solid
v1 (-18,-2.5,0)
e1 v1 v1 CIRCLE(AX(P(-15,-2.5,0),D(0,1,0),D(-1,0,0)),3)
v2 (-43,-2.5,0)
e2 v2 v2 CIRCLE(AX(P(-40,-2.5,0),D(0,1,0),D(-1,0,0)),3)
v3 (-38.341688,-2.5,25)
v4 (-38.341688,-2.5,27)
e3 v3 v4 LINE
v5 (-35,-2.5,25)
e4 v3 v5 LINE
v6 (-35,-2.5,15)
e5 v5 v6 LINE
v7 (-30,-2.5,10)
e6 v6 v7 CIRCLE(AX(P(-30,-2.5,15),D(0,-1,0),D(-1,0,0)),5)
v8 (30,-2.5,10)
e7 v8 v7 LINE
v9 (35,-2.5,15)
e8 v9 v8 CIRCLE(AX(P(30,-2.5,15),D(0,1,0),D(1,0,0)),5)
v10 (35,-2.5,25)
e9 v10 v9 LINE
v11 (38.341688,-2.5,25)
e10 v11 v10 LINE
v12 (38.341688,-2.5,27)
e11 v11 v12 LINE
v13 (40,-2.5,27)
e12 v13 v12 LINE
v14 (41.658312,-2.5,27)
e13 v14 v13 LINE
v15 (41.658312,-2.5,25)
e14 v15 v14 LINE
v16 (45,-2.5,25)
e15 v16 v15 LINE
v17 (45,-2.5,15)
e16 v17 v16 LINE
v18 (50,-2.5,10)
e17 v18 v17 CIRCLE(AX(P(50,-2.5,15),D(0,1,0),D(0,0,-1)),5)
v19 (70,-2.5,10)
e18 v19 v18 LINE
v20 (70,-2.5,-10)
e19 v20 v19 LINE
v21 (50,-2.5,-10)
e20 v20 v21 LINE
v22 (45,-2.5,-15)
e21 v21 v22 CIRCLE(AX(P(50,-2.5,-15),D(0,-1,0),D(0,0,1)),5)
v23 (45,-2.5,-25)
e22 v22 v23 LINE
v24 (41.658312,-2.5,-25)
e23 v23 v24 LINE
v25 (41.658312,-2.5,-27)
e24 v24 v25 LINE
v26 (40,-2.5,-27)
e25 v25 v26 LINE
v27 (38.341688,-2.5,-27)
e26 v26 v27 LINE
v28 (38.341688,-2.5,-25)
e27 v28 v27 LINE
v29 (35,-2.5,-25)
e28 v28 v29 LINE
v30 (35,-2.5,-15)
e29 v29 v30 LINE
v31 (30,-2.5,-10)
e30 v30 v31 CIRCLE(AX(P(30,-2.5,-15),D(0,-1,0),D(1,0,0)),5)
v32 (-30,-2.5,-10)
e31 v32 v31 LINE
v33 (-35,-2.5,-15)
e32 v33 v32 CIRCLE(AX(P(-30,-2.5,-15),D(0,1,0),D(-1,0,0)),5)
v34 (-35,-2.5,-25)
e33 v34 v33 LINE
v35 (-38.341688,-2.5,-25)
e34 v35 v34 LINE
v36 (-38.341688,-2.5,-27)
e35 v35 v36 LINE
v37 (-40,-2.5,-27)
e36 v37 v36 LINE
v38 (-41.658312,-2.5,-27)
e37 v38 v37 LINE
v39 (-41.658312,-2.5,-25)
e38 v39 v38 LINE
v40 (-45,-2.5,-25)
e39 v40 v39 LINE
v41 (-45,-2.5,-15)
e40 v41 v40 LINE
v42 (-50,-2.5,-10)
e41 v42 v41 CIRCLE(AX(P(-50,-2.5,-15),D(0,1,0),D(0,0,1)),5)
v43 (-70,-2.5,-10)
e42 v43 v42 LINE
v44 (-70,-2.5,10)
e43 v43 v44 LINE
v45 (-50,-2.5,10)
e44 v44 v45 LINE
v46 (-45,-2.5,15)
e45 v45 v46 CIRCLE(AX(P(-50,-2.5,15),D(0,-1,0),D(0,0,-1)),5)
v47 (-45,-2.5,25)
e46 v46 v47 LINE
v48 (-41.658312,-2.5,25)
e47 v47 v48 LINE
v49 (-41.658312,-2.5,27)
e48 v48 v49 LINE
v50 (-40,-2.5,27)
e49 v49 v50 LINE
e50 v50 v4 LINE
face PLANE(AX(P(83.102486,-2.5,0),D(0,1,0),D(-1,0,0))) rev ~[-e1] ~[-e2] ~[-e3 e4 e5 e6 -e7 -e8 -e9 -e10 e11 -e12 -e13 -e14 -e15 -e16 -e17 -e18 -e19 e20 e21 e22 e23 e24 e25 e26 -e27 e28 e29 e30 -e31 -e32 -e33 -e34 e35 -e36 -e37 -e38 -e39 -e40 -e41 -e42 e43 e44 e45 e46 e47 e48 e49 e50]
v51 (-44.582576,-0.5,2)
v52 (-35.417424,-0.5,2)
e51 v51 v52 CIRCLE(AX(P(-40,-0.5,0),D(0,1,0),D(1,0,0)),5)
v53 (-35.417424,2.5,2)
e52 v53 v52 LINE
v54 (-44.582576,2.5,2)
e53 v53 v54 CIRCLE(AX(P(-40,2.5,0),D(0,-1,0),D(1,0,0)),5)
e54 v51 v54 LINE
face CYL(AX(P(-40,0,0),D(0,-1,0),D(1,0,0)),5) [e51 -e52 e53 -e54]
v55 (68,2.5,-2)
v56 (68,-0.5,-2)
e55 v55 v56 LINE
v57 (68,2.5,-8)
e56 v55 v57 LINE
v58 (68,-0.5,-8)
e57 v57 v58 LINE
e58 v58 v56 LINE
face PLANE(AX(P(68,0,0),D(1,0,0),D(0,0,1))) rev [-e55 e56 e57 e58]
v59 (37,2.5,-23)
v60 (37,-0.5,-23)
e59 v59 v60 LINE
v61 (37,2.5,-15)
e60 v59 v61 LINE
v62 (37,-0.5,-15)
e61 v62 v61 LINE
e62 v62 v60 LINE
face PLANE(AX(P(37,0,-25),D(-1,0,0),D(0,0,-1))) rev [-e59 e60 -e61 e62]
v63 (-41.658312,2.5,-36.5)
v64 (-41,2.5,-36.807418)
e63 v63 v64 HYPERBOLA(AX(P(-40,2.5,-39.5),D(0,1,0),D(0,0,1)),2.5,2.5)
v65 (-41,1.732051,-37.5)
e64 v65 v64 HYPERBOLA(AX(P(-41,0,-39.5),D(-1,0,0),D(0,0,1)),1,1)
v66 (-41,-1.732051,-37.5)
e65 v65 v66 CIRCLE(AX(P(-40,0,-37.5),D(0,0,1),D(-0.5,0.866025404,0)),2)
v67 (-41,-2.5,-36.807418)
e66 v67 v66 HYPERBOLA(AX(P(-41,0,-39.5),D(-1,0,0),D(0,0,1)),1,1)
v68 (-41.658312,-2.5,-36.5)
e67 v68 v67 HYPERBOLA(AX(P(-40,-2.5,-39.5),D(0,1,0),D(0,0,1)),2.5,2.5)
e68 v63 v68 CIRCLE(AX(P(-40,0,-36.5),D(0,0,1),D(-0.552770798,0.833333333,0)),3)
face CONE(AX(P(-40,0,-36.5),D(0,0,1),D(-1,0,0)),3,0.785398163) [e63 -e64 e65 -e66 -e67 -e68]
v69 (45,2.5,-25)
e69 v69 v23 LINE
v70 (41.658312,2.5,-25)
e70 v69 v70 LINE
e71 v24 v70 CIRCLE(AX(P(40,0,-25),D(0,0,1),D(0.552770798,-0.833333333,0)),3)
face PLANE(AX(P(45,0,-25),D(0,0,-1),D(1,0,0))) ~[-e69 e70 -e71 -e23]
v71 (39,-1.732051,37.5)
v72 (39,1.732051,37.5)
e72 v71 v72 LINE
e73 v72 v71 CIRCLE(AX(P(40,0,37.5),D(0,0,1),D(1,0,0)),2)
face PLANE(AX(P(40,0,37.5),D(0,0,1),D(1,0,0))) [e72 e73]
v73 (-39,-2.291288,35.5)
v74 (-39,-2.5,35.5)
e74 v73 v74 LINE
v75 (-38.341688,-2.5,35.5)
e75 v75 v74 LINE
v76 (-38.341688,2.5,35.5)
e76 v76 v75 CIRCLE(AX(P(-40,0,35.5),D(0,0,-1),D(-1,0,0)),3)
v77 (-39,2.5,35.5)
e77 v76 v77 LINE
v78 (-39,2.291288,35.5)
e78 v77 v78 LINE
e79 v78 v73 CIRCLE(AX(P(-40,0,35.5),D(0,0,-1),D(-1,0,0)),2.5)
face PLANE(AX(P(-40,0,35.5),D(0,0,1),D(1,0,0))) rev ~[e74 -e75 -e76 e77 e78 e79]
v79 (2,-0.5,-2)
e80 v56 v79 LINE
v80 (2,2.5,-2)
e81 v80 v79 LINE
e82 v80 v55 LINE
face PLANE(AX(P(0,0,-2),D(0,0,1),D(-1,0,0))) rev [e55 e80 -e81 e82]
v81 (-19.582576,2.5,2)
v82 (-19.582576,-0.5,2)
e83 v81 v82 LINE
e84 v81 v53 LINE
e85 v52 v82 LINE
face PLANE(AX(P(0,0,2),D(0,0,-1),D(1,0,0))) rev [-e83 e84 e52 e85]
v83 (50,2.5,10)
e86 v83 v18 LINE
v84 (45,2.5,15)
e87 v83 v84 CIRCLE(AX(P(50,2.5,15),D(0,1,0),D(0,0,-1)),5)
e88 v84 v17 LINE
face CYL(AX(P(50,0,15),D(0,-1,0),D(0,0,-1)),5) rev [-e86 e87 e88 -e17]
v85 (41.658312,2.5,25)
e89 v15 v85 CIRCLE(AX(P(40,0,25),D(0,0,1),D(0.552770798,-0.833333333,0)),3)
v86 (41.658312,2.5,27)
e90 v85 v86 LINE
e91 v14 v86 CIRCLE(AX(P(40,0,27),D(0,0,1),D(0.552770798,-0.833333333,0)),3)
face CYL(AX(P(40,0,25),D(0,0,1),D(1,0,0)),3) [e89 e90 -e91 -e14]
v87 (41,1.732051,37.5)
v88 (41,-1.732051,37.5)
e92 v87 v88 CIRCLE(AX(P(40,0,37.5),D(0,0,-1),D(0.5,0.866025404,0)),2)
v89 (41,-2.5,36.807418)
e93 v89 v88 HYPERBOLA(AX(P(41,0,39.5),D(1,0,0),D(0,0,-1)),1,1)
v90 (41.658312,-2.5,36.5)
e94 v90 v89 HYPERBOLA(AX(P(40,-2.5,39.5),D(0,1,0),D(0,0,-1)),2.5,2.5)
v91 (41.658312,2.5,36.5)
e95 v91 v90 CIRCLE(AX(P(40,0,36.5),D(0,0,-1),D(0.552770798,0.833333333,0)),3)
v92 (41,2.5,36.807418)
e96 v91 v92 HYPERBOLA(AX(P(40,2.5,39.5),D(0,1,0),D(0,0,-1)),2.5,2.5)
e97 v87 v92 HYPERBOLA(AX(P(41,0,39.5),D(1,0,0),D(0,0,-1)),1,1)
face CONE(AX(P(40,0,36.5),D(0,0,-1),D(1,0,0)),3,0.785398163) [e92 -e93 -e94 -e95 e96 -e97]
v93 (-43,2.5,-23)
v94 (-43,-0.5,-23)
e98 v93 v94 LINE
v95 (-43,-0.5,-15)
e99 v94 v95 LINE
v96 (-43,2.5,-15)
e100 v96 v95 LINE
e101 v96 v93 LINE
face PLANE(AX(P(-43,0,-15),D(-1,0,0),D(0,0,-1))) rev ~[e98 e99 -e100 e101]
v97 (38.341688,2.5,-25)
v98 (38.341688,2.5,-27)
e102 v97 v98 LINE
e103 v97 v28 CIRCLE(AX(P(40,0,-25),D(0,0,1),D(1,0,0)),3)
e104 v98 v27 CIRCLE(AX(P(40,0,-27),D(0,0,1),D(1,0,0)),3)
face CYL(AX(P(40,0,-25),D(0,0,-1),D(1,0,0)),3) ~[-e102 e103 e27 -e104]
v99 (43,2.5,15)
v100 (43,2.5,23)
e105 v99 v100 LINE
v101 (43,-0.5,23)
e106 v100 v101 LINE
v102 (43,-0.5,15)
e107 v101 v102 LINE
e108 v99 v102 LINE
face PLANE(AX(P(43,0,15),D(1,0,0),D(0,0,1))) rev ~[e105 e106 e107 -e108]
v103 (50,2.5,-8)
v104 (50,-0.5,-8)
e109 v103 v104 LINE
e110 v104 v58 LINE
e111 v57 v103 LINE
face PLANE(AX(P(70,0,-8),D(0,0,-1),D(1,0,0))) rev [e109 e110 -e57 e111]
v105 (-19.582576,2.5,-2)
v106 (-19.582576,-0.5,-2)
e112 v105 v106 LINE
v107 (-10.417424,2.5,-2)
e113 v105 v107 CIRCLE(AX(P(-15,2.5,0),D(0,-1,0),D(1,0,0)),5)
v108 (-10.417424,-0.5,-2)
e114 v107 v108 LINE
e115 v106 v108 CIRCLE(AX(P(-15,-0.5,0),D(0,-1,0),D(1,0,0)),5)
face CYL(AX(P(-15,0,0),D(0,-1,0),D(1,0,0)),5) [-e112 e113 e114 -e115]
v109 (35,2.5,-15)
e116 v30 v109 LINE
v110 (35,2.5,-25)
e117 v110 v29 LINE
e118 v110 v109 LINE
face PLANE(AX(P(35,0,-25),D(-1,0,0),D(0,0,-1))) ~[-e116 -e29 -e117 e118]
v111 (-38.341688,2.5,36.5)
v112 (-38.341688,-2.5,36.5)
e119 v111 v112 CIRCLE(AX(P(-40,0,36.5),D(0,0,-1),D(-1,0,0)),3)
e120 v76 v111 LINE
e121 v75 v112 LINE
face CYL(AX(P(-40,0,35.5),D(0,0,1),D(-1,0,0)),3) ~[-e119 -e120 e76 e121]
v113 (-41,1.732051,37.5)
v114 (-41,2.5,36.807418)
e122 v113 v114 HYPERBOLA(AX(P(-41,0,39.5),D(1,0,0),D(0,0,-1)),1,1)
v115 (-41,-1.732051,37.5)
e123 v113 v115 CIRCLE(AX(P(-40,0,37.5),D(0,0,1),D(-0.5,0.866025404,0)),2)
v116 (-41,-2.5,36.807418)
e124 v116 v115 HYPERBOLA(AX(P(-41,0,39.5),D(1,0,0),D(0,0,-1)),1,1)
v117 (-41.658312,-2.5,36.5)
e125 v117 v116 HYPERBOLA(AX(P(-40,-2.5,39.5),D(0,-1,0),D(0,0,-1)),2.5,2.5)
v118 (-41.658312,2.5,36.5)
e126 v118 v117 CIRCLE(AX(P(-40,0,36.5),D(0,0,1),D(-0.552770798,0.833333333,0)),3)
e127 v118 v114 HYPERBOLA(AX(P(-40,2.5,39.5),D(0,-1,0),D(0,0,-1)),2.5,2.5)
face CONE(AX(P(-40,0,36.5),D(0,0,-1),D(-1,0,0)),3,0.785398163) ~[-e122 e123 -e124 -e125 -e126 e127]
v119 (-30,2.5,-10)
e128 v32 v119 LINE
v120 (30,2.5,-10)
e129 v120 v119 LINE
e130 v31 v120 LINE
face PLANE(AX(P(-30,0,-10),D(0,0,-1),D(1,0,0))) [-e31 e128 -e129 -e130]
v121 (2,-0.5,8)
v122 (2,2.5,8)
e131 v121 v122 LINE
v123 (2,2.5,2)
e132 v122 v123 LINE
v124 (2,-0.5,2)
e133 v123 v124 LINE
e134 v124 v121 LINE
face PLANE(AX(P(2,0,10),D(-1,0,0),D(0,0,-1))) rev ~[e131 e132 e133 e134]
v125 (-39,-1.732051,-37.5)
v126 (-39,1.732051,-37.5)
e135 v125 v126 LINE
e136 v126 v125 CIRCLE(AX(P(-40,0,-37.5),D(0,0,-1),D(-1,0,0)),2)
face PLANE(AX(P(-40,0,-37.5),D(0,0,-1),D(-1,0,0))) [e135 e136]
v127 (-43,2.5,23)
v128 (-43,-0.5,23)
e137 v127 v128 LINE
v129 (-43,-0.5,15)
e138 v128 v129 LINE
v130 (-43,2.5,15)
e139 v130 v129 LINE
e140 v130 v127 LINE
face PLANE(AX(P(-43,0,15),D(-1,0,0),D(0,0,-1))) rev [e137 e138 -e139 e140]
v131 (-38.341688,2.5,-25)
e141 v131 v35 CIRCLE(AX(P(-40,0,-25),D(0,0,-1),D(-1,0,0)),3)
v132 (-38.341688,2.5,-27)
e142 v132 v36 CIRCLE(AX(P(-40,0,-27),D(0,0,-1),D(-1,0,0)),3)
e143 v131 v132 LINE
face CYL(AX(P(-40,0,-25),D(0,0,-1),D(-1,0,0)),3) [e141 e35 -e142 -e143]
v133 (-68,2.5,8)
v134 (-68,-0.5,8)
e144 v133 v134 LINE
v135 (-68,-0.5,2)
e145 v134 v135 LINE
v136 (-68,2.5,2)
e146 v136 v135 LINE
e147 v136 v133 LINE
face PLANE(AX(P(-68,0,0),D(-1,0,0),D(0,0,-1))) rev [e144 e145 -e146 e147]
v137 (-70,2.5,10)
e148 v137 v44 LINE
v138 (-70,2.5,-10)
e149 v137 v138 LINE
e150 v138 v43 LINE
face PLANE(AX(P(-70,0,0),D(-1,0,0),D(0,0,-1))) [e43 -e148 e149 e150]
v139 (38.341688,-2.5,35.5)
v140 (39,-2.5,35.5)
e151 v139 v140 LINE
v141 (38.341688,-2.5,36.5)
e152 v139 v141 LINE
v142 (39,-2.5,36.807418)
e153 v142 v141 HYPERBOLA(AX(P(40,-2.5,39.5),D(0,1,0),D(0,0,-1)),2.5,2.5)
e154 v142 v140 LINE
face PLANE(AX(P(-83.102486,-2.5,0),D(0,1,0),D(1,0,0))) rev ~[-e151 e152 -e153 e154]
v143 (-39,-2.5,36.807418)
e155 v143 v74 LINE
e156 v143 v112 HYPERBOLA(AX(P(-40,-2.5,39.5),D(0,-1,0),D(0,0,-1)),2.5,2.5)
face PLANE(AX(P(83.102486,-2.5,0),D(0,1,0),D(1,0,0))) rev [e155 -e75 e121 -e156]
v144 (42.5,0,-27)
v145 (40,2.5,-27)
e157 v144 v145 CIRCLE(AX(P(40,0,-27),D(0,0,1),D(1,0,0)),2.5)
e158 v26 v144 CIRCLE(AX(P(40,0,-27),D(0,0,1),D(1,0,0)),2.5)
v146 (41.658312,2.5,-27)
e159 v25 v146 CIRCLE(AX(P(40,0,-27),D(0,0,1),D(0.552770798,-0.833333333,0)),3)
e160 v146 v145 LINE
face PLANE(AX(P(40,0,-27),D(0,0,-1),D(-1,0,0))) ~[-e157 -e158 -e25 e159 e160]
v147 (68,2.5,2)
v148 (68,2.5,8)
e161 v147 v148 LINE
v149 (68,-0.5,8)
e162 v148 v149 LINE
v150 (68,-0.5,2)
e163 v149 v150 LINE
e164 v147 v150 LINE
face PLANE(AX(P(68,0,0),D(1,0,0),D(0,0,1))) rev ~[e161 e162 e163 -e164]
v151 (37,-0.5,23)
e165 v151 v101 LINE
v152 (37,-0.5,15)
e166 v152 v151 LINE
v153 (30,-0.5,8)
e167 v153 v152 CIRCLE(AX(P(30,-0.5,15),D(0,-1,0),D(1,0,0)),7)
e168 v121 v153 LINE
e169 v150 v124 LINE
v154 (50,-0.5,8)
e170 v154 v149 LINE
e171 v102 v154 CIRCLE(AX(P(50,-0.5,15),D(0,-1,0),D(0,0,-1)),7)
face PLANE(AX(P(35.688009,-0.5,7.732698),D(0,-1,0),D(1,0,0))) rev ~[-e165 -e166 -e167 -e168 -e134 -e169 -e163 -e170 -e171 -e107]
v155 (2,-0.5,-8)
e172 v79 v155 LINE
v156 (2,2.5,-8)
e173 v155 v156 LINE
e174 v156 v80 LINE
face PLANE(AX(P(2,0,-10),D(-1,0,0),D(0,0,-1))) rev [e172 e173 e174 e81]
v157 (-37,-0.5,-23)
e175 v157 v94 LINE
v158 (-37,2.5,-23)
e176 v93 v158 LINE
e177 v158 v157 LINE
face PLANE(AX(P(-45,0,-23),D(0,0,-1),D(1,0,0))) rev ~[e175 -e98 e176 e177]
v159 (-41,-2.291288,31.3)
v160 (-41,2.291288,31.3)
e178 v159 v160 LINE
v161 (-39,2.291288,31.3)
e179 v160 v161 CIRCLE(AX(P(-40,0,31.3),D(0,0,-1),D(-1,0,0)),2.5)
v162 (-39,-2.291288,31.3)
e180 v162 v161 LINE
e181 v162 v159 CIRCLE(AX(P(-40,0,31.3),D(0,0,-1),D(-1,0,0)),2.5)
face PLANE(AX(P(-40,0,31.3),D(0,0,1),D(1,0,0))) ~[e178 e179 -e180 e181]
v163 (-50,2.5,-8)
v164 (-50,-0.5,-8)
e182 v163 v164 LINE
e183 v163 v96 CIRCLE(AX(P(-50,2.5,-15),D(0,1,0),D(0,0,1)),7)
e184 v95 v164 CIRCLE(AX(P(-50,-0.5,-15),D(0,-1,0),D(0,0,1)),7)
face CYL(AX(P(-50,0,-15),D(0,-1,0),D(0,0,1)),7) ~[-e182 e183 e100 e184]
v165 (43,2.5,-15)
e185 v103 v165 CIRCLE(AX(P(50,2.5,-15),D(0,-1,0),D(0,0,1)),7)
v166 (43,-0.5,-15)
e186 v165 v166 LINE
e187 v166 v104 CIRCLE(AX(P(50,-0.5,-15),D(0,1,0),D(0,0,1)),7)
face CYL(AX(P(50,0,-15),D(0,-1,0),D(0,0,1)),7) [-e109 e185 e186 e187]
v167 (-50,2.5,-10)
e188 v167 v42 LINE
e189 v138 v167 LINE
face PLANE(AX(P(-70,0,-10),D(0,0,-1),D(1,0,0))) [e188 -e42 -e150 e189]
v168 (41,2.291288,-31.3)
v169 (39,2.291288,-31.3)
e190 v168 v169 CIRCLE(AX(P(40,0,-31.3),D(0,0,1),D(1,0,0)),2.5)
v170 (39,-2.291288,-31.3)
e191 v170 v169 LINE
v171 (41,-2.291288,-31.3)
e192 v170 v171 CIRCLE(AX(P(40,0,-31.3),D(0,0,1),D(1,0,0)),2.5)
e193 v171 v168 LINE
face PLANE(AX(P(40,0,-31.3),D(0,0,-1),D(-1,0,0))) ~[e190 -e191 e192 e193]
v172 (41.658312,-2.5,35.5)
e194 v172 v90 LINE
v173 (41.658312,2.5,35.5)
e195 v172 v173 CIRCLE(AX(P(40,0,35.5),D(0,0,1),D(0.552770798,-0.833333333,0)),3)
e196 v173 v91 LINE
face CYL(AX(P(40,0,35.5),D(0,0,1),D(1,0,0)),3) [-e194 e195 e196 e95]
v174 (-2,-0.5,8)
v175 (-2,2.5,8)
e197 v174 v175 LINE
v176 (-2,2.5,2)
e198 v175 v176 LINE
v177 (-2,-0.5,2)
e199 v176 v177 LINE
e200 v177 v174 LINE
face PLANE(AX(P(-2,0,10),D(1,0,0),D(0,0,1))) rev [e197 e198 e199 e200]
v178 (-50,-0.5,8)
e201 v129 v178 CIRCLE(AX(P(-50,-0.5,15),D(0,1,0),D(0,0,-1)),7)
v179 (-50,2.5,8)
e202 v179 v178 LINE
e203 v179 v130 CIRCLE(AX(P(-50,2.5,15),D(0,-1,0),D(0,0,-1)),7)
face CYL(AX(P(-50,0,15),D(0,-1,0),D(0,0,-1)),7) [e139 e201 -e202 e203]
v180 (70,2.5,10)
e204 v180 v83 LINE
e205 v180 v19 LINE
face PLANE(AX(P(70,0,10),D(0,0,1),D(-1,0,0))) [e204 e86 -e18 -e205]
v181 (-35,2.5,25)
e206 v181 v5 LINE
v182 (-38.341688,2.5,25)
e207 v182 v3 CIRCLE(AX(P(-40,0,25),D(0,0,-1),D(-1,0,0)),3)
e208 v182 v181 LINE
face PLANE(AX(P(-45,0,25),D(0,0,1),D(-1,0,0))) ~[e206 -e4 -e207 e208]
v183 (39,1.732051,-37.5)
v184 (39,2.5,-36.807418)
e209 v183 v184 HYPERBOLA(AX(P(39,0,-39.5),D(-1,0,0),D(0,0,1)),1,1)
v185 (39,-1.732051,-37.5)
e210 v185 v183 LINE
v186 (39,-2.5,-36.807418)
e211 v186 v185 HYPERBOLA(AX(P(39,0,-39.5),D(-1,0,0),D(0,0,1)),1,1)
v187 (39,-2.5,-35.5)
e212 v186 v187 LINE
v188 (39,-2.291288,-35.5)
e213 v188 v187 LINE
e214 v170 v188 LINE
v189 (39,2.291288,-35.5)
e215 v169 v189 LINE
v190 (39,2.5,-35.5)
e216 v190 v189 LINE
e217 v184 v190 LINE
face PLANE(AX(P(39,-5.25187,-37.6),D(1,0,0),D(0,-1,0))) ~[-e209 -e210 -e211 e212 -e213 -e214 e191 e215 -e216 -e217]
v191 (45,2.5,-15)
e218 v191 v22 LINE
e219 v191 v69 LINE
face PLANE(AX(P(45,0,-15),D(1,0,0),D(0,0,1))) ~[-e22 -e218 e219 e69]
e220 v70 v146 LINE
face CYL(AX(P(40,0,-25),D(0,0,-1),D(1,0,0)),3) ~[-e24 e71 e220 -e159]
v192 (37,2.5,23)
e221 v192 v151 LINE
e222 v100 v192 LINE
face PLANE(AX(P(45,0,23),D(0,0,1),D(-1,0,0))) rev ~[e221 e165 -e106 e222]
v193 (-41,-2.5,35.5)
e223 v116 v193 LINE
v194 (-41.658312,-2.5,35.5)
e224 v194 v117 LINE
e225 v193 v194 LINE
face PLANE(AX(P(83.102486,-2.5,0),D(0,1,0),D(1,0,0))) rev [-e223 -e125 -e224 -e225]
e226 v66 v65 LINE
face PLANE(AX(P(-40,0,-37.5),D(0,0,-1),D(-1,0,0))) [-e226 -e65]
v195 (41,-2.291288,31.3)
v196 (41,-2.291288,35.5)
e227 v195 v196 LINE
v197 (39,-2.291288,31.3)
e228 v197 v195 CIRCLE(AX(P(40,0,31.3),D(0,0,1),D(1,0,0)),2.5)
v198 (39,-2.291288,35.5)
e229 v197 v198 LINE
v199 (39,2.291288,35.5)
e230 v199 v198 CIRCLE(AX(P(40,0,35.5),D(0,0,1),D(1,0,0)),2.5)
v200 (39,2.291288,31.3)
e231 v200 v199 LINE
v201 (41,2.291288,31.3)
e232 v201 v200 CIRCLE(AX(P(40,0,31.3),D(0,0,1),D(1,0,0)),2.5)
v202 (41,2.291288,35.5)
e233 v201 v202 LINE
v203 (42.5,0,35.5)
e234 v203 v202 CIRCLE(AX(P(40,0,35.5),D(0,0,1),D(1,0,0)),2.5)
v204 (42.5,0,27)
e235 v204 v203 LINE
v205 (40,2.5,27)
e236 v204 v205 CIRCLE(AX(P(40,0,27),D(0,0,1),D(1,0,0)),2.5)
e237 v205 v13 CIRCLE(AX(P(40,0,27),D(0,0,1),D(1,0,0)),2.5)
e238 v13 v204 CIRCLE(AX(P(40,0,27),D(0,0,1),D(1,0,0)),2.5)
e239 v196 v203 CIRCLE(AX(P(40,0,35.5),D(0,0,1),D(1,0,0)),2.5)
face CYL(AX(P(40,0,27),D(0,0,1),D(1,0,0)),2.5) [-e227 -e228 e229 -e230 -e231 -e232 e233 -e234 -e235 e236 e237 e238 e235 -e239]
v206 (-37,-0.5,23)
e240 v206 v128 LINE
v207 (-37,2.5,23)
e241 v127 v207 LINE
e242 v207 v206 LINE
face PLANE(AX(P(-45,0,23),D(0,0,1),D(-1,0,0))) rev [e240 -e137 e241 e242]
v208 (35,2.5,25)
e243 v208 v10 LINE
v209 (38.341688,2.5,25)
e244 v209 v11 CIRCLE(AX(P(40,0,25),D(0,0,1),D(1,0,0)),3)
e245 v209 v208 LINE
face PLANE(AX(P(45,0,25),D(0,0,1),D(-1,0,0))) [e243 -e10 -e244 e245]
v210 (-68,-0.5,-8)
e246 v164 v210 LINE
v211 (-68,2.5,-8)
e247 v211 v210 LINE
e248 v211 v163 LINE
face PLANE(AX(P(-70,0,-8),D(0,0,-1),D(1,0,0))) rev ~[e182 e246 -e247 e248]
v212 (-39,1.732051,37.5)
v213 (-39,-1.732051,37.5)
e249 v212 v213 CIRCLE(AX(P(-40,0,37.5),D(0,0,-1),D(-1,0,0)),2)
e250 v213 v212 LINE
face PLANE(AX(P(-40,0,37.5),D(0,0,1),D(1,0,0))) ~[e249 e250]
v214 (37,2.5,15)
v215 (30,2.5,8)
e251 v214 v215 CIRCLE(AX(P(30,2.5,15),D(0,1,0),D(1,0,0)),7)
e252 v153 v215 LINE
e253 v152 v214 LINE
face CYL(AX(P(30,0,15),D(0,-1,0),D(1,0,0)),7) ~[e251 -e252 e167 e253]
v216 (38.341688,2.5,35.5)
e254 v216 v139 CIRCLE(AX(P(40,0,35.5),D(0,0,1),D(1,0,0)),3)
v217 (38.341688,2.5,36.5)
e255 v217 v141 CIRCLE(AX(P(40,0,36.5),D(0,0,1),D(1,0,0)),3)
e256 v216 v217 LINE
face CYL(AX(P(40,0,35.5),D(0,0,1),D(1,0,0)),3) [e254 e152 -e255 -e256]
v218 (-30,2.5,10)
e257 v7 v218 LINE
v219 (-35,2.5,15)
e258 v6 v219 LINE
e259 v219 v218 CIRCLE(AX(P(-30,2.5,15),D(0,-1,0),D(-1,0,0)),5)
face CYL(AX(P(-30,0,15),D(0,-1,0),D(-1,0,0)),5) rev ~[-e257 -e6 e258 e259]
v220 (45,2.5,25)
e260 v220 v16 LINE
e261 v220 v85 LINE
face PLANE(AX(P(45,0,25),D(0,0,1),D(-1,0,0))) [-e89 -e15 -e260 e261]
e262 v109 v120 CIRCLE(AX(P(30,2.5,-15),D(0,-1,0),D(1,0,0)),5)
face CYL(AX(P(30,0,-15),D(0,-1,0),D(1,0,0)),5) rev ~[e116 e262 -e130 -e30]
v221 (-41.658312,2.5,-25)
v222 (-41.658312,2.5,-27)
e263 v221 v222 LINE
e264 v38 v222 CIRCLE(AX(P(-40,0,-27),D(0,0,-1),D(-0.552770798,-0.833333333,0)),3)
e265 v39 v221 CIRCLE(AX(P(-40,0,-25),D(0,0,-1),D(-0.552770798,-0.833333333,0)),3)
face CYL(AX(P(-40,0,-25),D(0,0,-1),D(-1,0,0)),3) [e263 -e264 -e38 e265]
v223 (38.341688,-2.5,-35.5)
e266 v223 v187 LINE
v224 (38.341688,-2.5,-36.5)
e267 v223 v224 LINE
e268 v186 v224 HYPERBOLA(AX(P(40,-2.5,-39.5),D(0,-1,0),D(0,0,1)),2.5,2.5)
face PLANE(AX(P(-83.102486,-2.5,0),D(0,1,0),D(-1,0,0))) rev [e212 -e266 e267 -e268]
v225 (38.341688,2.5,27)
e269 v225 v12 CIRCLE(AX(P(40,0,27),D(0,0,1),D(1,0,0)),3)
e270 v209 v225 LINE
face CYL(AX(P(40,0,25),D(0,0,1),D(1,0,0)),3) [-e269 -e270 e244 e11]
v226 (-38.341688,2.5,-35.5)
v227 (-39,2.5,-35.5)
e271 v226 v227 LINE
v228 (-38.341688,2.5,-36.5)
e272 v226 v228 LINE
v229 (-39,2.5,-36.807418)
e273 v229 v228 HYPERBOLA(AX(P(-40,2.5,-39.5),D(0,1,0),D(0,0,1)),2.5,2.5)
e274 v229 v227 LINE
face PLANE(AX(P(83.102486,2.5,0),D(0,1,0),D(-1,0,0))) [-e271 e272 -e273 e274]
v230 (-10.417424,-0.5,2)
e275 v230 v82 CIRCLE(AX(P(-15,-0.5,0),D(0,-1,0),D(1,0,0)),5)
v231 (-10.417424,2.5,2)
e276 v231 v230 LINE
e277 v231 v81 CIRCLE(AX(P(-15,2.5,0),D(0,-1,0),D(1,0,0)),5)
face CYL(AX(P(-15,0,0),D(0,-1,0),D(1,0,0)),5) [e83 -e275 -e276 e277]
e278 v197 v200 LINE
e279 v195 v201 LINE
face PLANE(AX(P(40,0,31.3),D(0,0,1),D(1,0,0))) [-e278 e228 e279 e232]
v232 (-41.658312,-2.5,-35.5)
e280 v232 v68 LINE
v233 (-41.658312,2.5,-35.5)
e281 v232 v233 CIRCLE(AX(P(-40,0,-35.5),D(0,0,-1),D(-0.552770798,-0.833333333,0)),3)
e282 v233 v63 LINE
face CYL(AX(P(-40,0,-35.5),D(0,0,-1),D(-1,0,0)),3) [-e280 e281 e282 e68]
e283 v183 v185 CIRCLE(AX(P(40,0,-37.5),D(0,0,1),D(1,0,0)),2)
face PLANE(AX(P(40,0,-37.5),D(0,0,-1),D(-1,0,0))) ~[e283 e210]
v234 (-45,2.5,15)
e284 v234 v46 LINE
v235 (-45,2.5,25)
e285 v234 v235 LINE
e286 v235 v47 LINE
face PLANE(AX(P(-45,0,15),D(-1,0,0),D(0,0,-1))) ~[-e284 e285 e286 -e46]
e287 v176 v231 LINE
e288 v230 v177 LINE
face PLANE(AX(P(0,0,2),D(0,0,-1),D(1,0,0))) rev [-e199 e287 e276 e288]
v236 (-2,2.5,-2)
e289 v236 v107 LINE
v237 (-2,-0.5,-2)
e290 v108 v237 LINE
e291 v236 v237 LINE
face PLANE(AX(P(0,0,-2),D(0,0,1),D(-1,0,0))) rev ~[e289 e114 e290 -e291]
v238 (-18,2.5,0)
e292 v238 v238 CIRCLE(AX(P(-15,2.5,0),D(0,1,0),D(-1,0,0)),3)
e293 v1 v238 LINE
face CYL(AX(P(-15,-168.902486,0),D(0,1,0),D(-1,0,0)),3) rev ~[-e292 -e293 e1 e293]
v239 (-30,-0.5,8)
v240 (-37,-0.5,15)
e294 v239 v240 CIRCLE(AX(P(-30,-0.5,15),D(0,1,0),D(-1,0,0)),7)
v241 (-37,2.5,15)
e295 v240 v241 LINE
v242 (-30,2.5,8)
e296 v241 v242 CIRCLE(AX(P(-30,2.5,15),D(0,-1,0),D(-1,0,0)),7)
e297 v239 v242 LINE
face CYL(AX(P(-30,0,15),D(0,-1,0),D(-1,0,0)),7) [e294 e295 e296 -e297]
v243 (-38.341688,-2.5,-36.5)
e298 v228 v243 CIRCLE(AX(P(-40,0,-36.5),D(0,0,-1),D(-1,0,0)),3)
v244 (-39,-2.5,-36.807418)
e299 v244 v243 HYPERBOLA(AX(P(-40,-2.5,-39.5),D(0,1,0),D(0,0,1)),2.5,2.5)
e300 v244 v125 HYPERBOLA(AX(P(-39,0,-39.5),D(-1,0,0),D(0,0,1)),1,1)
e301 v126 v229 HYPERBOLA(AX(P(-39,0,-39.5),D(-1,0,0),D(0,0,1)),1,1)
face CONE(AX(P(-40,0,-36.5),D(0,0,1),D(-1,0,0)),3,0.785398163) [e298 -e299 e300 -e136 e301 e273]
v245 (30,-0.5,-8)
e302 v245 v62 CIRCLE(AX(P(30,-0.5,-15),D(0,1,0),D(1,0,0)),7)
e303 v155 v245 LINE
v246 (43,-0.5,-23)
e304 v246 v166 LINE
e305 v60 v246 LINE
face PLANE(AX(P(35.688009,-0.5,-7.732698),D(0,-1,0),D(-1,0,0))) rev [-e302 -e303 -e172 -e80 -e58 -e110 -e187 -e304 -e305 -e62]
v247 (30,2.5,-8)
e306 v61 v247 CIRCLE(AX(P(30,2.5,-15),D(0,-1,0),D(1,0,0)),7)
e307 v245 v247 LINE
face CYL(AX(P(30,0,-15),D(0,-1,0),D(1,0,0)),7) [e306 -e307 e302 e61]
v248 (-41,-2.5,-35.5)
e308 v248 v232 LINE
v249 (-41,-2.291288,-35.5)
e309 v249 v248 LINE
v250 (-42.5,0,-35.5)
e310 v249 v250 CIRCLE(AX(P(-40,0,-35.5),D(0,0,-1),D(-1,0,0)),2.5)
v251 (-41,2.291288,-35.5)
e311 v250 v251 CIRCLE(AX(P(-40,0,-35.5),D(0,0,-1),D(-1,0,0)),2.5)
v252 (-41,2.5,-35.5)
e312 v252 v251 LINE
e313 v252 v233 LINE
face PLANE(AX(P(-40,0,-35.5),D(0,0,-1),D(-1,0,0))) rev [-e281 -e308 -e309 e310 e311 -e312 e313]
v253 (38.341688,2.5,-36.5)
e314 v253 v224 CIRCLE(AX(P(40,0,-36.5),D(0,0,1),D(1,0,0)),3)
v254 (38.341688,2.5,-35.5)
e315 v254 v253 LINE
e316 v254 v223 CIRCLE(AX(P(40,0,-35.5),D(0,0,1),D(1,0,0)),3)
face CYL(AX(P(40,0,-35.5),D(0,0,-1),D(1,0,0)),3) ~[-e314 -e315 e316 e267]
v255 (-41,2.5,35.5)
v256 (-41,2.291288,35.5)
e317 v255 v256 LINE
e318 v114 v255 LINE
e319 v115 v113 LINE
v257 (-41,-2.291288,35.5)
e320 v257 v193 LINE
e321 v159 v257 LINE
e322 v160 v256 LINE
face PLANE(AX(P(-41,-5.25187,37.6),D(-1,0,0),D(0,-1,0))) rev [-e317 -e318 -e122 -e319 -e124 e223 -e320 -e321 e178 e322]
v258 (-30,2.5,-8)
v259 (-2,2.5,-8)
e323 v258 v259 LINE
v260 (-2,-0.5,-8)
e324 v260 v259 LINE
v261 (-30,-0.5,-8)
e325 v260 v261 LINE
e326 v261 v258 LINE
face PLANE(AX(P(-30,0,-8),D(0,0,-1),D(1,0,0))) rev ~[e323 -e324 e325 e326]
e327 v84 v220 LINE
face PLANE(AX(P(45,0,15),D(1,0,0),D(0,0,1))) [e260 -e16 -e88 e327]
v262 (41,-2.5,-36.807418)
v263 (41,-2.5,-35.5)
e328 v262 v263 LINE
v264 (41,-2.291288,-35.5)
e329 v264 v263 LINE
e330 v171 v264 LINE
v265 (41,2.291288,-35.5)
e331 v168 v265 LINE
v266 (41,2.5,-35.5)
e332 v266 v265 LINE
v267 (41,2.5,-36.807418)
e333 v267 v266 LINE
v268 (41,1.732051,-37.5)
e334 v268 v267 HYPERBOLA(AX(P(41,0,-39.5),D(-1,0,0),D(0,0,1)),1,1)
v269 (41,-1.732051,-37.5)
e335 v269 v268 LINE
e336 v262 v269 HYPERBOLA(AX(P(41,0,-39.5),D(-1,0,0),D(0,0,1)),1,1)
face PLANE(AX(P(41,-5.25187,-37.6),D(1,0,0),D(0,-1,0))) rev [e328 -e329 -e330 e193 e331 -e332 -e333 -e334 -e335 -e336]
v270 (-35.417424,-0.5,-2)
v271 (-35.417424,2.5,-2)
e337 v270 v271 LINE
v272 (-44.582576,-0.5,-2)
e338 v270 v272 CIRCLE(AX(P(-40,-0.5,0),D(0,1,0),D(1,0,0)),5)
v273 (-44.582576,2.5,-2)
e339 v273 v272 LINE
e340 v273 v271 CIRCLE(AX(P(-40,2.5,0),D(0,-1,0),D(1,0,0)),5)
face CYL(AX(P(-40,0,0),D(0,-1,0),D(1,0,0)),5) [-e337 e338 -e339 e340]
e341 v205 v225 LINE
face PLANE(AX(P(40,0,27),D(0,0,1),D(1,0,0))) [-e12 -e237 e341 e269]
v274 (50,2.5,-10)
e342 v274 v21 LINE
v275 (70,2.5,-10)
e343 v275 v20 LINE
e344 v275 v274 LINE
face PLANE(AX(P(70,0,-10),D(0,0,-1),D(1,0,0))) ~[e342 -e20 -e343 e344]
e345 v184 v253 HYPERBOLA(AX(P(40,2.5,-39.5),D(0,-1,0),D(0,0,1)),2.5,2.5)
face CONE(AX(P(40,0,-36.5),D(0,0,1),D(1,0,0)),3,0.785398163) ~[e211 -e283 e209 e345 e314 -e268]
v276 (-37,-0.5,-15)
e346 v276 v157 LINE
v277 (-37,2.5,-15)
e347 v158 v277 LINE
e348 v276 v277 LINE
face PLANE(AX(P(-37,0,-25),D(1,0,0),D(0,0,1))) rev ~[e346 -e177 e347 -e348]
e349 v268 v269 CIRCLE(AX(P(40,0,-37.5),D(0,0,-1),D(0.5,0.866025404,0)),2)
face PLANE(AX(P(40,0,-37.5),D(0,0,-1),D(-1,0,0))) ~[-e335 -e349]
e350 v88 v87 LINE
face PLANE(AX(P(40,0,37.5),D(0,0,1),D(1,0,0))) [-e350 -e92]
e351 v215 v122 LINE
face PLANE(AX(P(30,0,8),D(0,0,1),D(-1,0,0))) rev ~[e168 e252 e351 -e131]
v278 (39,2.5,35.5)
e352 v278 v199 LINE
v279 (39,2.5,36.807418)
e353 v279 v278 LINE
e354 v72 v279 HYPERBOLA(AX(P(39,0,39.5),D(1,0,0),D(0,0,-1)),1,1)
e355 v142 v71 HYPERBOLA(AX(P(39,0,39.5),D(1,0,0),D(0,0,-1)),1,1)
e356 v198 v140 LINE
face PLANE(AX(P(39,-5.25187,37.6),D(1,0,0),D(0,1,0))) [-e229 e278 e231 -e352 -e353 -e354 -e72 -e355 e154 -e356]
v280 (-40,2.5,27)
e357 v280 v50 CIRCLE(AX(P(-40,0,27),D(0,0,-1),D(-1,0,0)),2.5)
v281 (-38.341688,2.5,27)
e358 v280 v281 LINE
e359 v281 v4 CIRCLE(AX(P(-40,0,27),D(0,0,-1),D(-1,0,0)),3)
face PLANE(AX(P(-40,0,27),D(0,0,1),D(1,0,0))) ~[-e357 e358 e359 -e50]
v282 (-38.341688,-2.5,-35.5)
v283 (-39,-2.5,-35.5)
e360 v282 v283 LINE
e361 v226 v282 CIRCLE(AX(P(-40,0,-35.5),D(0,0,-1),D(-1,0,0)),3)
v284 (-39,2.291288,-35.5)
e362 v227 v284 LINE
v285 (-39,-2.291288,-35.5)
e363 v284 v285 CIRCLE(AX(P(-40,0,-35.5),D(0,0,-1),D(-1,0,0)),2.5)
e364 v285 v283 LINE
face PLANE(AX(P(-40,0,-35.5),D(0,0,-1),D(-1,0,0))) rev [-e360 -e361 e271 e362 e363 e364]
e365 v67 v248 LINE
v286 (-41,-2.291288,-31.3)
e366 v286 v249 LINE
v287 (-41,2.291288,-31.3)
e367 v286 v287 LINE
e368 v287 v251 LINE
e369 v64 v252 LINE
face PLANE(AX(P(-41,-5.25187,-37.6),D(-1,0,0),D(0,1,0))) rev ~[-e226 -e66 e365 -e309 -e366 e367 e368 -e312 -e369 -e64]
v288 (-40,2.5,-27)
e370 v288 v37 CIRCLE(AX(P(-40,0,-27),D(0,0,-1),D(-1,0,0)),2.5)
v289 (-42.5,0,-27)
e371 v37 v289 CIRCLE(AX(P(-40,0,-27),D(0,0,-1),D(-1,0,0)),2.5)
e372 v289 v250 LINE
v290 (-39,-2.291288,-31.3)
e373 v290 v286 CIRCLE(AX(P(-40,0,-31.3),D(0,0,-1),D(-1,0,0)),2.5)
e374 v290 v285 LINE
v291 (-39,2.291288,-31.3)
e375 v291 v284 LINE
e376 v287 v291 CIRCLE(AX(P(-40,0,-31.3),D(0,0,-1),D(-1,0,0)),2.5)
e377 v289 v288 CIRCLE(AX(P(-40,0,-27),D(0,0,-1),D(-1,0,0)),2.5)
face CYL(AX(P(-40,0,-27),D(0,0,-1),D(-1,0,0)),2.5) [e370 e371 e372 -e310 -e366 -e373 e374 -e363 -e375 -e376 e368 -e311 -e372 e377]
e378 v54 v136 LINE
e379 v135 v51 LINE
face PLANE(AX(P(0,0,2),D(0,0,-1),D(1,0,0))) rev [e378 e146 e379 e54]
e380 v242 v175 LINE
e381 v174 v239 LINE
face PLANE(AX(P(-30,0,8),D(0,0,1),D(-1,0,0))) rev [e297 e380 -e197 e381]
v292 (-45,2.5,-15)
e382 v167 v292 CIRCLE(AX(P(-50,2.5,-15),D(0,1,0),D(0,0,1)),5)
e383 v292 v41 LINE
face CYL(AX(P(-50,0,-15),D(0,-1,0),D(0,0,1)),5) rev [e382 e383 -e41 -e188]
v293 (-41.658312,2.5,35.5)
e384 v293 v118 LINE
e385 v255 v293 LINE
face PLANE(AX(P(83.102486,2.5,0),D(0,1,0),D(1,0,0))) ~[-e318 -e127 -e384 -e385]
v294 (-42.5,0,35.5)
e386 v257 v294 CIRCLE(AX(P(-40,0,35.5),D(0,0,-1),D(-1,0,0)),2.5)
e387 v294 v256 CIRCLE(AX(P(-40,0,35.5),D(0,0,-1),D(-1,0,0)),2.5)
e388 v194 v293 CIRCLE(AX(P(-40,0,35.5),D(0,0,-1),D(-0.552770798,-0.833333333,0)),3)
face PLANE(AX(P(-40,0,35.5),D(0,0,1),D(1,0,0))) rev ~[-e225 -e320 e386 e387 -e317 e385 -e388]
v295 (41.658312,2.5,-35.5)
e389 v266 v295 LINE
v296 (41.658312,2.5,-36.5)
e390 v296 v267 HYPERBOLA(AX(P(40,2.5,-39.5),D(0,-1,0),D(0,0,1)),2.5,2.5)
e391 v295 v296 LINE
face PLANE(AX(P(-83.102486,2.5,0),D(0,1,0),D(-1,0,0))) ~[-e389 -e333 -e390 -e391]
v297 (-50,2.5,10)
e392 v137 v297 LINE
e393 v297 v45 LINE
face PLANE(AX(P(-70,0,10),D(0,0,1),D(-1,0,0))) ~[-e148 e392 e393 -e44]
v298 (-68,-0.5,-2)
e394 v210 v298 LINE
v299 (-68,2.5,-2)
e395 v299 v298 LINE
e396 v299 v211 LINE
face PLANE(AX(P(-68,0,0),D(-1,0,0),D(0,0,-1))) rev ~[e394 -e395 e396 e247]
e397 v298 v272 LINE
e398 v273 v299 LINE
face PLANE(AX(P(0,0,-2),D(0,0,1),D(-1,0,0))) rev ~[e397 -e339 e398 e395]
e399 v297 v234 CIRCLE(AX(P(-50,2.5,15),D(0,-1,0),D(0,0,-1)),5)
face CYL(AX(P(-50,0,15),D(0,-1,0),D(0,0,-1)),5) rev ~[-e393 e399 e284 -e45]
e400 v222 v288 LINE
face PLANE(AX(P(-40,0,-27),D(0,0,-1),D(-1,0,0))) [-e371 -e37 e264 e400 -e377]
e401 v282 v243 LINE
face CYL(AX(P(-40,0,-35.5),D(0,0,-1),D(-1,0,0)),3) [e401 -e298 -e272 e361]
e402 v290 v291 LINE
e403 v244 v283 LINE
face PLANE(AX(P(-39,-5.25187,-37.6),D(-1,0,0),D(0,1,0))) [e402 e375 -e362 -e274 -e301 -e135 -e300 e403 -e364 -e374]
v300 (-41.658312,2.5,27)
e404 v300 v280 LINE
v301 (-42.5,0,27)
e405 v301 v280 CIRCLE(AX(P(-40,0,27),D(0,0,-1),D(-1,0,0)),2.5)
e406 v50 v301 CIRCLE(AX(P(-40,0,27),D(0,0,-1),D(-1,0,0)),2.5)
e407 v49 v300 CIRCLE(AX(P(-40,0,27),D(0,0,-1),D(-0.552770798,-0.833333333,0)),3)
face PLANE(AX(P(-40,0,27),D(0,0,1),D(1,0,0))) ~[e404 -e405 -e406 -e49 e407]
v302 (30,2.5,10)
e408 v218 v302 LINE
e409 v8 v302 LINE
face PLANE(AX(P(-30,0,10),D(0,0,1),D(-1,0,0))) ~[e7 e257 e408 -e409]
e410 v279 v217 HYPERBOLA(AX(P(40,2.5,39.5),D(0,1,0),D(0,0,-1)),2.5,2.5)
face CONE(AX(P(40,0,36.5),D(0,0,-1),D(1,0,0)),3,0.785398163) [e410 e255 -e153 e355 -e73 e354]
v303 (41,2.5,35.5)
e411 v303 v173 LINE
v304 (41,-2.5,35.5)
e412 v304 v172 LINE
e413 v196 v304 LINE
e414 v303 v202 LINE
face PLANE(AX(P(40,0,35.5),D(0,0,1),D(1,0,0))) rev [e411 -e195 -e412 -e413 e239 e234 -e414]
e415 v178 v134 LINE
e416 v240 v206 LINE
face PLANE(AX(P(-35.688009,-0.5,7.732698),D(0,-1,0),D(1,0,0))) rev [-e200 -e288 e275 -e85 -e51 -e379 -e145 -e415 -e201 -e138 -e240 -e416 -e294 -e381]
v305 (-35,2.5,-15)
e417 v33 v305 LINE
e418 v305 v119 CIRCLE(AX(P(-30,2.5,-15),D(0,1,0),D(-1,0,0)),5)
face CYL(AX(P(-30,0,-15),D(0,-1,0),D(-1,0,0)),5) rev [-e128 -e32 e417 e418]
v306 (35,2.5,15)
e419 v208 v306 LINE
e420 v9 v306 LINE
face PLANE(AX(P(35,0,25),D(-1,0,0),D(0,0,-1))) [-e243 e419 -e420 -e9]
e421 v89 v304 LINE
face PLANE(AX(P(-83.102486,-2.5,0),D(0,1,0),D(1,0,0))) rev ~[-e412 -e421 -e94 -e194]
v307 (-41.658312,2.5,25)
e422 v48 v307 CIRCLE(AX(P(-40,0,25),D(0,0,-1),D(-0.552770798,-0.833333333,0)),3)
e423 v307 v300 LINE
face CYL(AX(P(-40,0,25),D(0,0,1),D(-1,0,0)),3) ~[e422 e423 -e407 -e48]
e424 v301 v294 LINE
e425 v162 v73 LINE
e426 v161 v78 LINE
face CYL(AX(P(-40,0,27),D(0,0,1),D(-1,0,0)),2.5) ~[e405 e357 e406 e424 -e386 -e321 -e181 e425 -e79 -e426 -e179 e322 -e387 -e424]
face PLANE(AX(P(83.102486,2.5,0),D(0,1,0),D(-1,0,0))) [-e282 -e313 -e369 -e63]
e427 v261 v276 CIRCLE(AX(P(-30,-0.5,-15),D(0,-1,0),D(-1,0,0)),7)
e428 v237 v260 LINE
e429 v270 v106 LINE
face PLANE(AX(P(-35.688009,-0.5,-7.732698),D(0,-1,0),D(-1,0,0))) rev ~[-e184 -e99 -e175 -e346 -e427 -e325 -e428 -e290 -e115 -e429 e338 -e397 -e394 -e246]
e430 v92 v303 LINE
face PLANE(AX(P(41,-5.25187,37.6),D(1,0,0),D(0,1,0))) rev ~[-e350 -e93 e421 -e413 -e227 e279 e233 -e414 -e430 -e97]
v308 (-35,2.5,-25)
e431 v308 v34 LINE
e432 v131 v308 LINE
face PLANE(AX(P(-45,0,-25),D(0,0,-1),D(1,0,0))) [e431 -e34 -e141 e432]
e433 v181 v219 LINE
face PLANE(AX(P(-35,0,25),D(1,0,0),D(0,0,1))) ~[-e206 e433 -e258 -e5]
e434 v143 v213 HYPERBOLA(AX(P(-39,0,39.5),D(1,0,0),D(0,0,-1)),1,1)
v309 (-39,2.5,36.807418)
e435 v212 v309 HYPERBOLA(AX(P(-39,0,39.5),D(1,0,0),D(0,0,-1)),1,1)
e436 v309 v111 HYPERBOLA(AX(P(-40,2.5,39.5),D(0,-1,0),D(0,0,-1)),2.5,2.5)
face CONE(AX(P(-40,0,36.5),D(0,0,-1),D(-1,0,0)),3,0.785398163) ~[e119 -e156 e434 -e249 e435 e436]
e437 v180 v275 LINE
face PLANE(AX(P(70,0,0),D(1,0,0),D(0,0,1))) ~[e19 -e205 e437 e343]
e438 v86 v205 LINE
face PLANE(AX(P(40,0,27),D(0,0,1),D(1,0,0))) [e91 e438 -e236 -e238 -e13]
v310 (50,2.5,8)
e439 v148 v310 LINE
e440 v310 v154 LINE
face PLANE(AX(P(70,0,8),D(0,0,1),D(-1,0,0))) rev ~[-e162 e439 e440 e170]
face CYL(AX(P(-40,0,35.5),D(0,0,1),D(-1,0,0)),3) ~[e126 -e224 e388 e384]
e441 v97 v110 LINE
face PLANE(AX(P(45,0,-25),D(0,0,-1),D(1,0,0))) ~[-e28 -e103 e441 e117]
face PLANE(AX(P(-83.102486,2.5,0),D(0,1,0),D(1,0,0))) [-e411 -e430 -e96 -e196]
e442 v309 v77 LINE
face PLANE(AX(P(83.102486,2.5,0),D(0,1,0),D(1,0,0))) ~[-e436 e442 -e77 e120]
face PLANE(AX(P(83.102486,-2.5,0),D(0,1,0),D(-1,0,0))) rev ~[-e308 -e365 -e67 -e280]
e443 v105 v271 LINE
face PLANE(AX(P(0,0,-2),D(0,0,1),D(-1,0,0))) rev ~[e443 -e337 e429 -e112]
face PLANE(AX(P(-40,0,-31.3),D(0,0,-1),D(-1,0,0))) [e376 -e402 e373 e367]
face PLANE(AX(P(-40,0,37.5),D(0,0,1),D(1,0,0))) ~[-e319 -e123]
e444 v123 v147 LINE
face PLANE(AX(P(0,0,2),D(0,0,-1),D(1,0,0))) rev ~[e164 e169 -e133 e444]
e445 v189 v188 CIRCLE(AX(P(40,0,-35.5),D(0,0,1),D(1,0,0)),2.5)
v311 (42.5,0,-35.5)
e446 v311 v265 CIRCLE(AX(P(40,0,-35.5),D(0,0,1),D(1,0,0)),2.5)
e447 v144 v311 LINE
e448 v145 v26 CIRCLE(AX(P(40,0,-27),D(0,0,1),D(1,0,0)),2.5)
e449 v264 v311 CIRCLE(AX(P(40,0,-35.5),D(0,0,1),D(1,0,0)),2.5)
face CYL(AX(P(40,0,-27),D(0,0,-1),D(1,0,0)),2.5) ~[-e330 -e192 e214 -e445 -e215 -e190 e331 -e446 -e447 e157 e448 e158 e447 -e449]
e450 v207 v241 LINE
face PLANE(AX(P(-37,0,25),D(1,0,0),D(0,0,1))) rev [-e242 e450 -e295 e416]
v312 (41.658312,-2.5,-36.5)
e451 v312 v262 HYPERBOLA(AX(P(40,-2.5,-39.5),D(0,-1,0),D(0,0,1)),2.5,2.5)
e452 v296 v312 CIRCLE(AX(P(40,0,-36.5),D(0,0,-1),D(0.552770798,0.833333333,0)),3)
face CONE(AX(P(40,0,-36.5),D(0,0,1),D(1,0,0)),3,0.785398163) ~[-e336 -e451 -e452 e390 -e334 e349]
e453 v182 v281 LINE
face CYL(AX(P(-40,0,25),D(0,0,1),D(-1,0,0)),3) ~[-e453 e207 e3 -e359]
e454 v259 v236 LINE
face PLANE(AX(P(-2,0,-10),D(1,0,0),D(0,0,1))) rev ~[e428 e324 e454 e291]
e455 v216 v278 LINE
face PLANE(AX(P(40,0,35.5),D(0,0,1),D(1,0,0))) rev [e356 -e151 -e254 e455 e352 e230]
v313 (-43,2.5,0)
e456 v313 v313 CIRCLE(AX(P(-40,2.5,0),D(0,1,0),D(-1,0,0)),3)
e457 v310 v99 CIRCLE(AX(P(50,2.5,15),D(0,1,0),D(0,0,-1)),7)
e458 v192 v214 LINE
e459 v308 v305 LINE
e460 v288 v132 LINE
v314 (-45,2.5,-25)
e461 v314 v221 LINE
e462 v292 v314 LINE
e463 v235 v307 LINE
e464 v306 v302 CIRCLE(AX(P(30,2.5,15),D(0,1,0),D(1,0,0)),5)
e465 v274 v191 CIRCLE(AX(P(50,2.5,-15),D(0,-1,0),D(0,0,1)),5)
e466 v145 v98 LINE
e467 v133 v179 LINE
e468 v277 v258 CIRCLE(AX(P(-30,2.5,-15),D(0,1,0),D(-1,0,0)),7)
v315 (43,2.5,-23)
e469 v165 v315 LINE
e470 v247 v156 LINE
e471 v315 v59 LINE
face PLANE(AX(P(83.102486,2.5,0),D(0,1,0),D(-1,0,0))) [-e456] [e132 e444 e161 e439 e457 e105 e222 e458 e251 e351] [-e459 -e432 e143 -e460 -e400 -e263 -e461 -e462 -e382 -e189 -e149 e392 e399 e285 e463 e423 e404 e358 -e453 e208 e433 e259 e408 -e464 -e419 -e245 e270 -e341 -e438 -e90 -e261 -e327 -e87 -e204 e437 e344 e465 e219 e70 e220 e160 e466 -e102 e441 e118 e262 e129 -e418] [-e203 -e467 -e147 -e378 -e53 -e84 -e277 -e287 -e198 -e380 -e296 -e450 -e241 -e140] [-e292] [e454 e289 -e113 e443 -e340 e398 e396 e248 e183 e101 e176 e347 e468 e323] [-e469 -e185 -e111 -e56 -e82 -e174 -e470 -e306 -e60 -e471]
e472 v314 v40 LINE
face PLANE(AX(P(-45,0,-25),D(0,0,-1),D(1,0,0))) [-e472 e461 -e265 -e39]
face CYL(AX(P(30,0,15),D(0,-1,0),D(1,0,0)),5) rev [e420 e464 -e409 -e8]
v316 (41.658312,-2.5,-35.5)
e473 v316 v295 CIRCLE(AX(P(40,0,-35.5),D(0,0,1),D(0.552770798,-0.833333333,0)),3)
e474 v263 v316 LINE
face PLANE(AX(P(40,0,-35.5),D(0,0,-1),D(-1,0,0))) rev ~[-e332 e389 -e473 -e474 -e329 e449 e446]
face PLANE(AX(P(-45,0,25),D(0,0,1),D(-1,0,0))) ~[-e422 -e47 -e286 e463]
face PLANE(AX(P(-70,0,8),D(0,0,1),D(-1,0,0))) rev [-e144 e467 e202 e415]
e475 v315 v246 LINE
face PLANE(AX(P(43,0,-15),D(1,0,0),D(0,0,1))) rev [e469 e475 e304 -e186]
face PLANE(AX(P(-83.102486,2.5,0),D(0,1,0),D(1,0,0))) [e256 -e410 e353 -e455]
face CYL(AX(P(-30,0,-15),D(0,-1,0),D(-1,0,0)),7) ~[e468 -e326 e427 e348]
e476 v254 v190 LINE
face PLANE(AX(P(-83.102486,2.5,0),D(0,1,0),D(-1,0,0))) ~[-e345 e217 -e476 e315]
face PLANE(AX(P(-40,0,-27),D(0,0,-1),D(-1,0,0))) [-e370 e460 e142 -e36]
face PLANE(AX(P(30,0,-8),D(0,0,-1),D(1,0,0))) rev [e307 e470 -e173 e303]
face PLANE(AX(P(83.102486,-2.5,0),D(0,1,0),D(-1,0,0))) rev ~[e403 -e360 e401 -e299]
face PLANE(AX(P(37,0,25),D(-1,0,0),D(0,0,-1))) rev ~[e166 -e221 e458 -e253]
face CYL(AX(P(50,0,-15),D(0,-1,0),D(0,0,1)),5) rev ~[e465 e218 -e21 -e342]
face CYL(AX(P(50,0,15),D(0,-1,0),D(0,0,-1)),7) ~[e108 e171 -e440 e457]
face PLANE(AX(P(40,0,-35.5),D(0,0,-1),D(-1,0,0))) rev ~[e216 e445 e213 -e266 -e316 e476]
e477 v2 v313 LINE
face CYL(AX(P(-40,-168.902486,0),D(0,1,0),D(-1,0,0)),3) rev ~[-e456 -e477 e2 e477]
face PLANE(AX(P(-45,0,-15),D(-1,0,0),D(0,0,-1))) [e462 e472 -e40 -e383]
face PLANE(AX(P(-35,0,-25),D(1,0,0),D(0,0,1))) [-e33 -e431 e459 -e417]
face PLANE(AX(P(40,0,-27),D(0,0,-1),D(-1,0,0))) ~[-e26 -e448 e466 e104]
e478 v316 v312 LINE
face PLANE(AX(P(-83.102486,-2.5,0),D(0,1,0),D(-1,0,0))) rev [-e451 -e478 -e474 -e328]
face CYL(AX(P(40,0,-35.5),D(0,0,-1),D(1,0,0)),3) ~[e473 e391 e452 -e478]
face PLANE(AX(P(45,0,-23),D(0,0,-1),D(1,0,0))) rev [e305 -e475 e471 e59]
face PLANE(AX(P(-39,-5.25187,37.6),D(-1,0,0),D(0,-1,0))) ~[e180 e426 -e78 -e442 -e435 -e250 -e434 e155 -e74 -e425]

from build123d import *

# Parameters (mm, degrees)
F1_DEPTH  = 2.5
F2_T      = -2
F5_SIZE   = 1
F6_W      = 170
F6_H      = 5
F7_DEPTH  = 37.501
F9_W      = 2
F9_H      = 10.5037409129
F10_DEPTH = 6.3
F13_R     = 5
F14_DEPTH = 2.5
F17_D     = 6


with BuildPart() as f1:
    # F0 (on Front) → F1 (new body, symmetric)
    with BuildSketch(Plane.XZ):
        with BuildLine():
            Line((0, 10), (0, 0))
            Line((0, 0), (70, 0))
            Line((70, 0), (70, 10))
            Line((70, 10), (50, 10))
            ThreePointArc((50, 10), (46.4644660941, 11.4644660941), (45, 15))
            Line((45, 15), (45, 25))
            Line((45, 25), (35, 25))
            Line((35, 25), (35, 15))
            ThreePointArc((35, 15), (33.5355339059, 11.4644660941), (30, 10))
            Line((30, 10), (0, 10))
        make_face()
    extrude(amount=F1_DEPTH, both=True)

    # F2
    f2_openings = [f1.faces().sort_by_distance(p)[0] for p in [
        (35.933685, 2.5, 7.254637),
    ]]
    offset(amount=F2_T, openings=f2_openings)

    # F3 (on Front) → F4 (revolve)
    with BuildSketch(Plane.XZ):
        Polygon((40, 37.5), (40, 25), (43, 25), (43, 27), (42.5, 27), (42.5, 35.5), (43, 35.5), (43, 37.5), align=None)
    revolve(axis=Axis((40, 0, 31.25), (0, 0, 1)))

    # F5
    f5_edges = [f1.edges().sort_by_distance(p)[0] for p in [
        (37, 0, 37.5),
    ]]
    chamfer(f5_edges, length=F5_SIZE)

    # F6 (on Top) → F7 (intersect, through all)
    with BuildSketch(Plane.XY):
        with Locations((1.8975138664, 0)):
            Rectangle(F6_W, F6_H)
    extrude(amount=F7_DEPTH, mode=Mode.INTERSECT)

    # F9 (on offset) → F10 (cut)
    with BuildSketch(Plane.XY.offset(37.6)):
        with Locations((40, 0)):
            Rectangle(F9_W, F9_H)
    extrude(amount=-F10_DEPTH, mode=Mode.SUBTRACT)

    # F11: F1 across plane


with BuildPart() as f1_1:
    add(f1.part)
    add(f1.part.mirror(Plane.XY))

    # F12: F1 across plane


with BuildPart() as f1_2:
    add(f1_1.part)
    add(f1_1.part.mirror(Plane.YZ))

    # F13 (on Front) → F14 (join, symmetric)
    with BuildSketch(Plane.XZ):
        with Locations((-40, 0)):
            Circle(F13_R)
        with Locations((-15, 0)):
            Circle(F13_R)
    extrude(amount=F14_DEPTH, both=True)

    # F17 (through all)
    with Locations(Plane.XZ.offset(10)):
        with Locations((-40, 0), (-15, 0)):
            Hole(F17_D / 2)


solid = f1_2.part
